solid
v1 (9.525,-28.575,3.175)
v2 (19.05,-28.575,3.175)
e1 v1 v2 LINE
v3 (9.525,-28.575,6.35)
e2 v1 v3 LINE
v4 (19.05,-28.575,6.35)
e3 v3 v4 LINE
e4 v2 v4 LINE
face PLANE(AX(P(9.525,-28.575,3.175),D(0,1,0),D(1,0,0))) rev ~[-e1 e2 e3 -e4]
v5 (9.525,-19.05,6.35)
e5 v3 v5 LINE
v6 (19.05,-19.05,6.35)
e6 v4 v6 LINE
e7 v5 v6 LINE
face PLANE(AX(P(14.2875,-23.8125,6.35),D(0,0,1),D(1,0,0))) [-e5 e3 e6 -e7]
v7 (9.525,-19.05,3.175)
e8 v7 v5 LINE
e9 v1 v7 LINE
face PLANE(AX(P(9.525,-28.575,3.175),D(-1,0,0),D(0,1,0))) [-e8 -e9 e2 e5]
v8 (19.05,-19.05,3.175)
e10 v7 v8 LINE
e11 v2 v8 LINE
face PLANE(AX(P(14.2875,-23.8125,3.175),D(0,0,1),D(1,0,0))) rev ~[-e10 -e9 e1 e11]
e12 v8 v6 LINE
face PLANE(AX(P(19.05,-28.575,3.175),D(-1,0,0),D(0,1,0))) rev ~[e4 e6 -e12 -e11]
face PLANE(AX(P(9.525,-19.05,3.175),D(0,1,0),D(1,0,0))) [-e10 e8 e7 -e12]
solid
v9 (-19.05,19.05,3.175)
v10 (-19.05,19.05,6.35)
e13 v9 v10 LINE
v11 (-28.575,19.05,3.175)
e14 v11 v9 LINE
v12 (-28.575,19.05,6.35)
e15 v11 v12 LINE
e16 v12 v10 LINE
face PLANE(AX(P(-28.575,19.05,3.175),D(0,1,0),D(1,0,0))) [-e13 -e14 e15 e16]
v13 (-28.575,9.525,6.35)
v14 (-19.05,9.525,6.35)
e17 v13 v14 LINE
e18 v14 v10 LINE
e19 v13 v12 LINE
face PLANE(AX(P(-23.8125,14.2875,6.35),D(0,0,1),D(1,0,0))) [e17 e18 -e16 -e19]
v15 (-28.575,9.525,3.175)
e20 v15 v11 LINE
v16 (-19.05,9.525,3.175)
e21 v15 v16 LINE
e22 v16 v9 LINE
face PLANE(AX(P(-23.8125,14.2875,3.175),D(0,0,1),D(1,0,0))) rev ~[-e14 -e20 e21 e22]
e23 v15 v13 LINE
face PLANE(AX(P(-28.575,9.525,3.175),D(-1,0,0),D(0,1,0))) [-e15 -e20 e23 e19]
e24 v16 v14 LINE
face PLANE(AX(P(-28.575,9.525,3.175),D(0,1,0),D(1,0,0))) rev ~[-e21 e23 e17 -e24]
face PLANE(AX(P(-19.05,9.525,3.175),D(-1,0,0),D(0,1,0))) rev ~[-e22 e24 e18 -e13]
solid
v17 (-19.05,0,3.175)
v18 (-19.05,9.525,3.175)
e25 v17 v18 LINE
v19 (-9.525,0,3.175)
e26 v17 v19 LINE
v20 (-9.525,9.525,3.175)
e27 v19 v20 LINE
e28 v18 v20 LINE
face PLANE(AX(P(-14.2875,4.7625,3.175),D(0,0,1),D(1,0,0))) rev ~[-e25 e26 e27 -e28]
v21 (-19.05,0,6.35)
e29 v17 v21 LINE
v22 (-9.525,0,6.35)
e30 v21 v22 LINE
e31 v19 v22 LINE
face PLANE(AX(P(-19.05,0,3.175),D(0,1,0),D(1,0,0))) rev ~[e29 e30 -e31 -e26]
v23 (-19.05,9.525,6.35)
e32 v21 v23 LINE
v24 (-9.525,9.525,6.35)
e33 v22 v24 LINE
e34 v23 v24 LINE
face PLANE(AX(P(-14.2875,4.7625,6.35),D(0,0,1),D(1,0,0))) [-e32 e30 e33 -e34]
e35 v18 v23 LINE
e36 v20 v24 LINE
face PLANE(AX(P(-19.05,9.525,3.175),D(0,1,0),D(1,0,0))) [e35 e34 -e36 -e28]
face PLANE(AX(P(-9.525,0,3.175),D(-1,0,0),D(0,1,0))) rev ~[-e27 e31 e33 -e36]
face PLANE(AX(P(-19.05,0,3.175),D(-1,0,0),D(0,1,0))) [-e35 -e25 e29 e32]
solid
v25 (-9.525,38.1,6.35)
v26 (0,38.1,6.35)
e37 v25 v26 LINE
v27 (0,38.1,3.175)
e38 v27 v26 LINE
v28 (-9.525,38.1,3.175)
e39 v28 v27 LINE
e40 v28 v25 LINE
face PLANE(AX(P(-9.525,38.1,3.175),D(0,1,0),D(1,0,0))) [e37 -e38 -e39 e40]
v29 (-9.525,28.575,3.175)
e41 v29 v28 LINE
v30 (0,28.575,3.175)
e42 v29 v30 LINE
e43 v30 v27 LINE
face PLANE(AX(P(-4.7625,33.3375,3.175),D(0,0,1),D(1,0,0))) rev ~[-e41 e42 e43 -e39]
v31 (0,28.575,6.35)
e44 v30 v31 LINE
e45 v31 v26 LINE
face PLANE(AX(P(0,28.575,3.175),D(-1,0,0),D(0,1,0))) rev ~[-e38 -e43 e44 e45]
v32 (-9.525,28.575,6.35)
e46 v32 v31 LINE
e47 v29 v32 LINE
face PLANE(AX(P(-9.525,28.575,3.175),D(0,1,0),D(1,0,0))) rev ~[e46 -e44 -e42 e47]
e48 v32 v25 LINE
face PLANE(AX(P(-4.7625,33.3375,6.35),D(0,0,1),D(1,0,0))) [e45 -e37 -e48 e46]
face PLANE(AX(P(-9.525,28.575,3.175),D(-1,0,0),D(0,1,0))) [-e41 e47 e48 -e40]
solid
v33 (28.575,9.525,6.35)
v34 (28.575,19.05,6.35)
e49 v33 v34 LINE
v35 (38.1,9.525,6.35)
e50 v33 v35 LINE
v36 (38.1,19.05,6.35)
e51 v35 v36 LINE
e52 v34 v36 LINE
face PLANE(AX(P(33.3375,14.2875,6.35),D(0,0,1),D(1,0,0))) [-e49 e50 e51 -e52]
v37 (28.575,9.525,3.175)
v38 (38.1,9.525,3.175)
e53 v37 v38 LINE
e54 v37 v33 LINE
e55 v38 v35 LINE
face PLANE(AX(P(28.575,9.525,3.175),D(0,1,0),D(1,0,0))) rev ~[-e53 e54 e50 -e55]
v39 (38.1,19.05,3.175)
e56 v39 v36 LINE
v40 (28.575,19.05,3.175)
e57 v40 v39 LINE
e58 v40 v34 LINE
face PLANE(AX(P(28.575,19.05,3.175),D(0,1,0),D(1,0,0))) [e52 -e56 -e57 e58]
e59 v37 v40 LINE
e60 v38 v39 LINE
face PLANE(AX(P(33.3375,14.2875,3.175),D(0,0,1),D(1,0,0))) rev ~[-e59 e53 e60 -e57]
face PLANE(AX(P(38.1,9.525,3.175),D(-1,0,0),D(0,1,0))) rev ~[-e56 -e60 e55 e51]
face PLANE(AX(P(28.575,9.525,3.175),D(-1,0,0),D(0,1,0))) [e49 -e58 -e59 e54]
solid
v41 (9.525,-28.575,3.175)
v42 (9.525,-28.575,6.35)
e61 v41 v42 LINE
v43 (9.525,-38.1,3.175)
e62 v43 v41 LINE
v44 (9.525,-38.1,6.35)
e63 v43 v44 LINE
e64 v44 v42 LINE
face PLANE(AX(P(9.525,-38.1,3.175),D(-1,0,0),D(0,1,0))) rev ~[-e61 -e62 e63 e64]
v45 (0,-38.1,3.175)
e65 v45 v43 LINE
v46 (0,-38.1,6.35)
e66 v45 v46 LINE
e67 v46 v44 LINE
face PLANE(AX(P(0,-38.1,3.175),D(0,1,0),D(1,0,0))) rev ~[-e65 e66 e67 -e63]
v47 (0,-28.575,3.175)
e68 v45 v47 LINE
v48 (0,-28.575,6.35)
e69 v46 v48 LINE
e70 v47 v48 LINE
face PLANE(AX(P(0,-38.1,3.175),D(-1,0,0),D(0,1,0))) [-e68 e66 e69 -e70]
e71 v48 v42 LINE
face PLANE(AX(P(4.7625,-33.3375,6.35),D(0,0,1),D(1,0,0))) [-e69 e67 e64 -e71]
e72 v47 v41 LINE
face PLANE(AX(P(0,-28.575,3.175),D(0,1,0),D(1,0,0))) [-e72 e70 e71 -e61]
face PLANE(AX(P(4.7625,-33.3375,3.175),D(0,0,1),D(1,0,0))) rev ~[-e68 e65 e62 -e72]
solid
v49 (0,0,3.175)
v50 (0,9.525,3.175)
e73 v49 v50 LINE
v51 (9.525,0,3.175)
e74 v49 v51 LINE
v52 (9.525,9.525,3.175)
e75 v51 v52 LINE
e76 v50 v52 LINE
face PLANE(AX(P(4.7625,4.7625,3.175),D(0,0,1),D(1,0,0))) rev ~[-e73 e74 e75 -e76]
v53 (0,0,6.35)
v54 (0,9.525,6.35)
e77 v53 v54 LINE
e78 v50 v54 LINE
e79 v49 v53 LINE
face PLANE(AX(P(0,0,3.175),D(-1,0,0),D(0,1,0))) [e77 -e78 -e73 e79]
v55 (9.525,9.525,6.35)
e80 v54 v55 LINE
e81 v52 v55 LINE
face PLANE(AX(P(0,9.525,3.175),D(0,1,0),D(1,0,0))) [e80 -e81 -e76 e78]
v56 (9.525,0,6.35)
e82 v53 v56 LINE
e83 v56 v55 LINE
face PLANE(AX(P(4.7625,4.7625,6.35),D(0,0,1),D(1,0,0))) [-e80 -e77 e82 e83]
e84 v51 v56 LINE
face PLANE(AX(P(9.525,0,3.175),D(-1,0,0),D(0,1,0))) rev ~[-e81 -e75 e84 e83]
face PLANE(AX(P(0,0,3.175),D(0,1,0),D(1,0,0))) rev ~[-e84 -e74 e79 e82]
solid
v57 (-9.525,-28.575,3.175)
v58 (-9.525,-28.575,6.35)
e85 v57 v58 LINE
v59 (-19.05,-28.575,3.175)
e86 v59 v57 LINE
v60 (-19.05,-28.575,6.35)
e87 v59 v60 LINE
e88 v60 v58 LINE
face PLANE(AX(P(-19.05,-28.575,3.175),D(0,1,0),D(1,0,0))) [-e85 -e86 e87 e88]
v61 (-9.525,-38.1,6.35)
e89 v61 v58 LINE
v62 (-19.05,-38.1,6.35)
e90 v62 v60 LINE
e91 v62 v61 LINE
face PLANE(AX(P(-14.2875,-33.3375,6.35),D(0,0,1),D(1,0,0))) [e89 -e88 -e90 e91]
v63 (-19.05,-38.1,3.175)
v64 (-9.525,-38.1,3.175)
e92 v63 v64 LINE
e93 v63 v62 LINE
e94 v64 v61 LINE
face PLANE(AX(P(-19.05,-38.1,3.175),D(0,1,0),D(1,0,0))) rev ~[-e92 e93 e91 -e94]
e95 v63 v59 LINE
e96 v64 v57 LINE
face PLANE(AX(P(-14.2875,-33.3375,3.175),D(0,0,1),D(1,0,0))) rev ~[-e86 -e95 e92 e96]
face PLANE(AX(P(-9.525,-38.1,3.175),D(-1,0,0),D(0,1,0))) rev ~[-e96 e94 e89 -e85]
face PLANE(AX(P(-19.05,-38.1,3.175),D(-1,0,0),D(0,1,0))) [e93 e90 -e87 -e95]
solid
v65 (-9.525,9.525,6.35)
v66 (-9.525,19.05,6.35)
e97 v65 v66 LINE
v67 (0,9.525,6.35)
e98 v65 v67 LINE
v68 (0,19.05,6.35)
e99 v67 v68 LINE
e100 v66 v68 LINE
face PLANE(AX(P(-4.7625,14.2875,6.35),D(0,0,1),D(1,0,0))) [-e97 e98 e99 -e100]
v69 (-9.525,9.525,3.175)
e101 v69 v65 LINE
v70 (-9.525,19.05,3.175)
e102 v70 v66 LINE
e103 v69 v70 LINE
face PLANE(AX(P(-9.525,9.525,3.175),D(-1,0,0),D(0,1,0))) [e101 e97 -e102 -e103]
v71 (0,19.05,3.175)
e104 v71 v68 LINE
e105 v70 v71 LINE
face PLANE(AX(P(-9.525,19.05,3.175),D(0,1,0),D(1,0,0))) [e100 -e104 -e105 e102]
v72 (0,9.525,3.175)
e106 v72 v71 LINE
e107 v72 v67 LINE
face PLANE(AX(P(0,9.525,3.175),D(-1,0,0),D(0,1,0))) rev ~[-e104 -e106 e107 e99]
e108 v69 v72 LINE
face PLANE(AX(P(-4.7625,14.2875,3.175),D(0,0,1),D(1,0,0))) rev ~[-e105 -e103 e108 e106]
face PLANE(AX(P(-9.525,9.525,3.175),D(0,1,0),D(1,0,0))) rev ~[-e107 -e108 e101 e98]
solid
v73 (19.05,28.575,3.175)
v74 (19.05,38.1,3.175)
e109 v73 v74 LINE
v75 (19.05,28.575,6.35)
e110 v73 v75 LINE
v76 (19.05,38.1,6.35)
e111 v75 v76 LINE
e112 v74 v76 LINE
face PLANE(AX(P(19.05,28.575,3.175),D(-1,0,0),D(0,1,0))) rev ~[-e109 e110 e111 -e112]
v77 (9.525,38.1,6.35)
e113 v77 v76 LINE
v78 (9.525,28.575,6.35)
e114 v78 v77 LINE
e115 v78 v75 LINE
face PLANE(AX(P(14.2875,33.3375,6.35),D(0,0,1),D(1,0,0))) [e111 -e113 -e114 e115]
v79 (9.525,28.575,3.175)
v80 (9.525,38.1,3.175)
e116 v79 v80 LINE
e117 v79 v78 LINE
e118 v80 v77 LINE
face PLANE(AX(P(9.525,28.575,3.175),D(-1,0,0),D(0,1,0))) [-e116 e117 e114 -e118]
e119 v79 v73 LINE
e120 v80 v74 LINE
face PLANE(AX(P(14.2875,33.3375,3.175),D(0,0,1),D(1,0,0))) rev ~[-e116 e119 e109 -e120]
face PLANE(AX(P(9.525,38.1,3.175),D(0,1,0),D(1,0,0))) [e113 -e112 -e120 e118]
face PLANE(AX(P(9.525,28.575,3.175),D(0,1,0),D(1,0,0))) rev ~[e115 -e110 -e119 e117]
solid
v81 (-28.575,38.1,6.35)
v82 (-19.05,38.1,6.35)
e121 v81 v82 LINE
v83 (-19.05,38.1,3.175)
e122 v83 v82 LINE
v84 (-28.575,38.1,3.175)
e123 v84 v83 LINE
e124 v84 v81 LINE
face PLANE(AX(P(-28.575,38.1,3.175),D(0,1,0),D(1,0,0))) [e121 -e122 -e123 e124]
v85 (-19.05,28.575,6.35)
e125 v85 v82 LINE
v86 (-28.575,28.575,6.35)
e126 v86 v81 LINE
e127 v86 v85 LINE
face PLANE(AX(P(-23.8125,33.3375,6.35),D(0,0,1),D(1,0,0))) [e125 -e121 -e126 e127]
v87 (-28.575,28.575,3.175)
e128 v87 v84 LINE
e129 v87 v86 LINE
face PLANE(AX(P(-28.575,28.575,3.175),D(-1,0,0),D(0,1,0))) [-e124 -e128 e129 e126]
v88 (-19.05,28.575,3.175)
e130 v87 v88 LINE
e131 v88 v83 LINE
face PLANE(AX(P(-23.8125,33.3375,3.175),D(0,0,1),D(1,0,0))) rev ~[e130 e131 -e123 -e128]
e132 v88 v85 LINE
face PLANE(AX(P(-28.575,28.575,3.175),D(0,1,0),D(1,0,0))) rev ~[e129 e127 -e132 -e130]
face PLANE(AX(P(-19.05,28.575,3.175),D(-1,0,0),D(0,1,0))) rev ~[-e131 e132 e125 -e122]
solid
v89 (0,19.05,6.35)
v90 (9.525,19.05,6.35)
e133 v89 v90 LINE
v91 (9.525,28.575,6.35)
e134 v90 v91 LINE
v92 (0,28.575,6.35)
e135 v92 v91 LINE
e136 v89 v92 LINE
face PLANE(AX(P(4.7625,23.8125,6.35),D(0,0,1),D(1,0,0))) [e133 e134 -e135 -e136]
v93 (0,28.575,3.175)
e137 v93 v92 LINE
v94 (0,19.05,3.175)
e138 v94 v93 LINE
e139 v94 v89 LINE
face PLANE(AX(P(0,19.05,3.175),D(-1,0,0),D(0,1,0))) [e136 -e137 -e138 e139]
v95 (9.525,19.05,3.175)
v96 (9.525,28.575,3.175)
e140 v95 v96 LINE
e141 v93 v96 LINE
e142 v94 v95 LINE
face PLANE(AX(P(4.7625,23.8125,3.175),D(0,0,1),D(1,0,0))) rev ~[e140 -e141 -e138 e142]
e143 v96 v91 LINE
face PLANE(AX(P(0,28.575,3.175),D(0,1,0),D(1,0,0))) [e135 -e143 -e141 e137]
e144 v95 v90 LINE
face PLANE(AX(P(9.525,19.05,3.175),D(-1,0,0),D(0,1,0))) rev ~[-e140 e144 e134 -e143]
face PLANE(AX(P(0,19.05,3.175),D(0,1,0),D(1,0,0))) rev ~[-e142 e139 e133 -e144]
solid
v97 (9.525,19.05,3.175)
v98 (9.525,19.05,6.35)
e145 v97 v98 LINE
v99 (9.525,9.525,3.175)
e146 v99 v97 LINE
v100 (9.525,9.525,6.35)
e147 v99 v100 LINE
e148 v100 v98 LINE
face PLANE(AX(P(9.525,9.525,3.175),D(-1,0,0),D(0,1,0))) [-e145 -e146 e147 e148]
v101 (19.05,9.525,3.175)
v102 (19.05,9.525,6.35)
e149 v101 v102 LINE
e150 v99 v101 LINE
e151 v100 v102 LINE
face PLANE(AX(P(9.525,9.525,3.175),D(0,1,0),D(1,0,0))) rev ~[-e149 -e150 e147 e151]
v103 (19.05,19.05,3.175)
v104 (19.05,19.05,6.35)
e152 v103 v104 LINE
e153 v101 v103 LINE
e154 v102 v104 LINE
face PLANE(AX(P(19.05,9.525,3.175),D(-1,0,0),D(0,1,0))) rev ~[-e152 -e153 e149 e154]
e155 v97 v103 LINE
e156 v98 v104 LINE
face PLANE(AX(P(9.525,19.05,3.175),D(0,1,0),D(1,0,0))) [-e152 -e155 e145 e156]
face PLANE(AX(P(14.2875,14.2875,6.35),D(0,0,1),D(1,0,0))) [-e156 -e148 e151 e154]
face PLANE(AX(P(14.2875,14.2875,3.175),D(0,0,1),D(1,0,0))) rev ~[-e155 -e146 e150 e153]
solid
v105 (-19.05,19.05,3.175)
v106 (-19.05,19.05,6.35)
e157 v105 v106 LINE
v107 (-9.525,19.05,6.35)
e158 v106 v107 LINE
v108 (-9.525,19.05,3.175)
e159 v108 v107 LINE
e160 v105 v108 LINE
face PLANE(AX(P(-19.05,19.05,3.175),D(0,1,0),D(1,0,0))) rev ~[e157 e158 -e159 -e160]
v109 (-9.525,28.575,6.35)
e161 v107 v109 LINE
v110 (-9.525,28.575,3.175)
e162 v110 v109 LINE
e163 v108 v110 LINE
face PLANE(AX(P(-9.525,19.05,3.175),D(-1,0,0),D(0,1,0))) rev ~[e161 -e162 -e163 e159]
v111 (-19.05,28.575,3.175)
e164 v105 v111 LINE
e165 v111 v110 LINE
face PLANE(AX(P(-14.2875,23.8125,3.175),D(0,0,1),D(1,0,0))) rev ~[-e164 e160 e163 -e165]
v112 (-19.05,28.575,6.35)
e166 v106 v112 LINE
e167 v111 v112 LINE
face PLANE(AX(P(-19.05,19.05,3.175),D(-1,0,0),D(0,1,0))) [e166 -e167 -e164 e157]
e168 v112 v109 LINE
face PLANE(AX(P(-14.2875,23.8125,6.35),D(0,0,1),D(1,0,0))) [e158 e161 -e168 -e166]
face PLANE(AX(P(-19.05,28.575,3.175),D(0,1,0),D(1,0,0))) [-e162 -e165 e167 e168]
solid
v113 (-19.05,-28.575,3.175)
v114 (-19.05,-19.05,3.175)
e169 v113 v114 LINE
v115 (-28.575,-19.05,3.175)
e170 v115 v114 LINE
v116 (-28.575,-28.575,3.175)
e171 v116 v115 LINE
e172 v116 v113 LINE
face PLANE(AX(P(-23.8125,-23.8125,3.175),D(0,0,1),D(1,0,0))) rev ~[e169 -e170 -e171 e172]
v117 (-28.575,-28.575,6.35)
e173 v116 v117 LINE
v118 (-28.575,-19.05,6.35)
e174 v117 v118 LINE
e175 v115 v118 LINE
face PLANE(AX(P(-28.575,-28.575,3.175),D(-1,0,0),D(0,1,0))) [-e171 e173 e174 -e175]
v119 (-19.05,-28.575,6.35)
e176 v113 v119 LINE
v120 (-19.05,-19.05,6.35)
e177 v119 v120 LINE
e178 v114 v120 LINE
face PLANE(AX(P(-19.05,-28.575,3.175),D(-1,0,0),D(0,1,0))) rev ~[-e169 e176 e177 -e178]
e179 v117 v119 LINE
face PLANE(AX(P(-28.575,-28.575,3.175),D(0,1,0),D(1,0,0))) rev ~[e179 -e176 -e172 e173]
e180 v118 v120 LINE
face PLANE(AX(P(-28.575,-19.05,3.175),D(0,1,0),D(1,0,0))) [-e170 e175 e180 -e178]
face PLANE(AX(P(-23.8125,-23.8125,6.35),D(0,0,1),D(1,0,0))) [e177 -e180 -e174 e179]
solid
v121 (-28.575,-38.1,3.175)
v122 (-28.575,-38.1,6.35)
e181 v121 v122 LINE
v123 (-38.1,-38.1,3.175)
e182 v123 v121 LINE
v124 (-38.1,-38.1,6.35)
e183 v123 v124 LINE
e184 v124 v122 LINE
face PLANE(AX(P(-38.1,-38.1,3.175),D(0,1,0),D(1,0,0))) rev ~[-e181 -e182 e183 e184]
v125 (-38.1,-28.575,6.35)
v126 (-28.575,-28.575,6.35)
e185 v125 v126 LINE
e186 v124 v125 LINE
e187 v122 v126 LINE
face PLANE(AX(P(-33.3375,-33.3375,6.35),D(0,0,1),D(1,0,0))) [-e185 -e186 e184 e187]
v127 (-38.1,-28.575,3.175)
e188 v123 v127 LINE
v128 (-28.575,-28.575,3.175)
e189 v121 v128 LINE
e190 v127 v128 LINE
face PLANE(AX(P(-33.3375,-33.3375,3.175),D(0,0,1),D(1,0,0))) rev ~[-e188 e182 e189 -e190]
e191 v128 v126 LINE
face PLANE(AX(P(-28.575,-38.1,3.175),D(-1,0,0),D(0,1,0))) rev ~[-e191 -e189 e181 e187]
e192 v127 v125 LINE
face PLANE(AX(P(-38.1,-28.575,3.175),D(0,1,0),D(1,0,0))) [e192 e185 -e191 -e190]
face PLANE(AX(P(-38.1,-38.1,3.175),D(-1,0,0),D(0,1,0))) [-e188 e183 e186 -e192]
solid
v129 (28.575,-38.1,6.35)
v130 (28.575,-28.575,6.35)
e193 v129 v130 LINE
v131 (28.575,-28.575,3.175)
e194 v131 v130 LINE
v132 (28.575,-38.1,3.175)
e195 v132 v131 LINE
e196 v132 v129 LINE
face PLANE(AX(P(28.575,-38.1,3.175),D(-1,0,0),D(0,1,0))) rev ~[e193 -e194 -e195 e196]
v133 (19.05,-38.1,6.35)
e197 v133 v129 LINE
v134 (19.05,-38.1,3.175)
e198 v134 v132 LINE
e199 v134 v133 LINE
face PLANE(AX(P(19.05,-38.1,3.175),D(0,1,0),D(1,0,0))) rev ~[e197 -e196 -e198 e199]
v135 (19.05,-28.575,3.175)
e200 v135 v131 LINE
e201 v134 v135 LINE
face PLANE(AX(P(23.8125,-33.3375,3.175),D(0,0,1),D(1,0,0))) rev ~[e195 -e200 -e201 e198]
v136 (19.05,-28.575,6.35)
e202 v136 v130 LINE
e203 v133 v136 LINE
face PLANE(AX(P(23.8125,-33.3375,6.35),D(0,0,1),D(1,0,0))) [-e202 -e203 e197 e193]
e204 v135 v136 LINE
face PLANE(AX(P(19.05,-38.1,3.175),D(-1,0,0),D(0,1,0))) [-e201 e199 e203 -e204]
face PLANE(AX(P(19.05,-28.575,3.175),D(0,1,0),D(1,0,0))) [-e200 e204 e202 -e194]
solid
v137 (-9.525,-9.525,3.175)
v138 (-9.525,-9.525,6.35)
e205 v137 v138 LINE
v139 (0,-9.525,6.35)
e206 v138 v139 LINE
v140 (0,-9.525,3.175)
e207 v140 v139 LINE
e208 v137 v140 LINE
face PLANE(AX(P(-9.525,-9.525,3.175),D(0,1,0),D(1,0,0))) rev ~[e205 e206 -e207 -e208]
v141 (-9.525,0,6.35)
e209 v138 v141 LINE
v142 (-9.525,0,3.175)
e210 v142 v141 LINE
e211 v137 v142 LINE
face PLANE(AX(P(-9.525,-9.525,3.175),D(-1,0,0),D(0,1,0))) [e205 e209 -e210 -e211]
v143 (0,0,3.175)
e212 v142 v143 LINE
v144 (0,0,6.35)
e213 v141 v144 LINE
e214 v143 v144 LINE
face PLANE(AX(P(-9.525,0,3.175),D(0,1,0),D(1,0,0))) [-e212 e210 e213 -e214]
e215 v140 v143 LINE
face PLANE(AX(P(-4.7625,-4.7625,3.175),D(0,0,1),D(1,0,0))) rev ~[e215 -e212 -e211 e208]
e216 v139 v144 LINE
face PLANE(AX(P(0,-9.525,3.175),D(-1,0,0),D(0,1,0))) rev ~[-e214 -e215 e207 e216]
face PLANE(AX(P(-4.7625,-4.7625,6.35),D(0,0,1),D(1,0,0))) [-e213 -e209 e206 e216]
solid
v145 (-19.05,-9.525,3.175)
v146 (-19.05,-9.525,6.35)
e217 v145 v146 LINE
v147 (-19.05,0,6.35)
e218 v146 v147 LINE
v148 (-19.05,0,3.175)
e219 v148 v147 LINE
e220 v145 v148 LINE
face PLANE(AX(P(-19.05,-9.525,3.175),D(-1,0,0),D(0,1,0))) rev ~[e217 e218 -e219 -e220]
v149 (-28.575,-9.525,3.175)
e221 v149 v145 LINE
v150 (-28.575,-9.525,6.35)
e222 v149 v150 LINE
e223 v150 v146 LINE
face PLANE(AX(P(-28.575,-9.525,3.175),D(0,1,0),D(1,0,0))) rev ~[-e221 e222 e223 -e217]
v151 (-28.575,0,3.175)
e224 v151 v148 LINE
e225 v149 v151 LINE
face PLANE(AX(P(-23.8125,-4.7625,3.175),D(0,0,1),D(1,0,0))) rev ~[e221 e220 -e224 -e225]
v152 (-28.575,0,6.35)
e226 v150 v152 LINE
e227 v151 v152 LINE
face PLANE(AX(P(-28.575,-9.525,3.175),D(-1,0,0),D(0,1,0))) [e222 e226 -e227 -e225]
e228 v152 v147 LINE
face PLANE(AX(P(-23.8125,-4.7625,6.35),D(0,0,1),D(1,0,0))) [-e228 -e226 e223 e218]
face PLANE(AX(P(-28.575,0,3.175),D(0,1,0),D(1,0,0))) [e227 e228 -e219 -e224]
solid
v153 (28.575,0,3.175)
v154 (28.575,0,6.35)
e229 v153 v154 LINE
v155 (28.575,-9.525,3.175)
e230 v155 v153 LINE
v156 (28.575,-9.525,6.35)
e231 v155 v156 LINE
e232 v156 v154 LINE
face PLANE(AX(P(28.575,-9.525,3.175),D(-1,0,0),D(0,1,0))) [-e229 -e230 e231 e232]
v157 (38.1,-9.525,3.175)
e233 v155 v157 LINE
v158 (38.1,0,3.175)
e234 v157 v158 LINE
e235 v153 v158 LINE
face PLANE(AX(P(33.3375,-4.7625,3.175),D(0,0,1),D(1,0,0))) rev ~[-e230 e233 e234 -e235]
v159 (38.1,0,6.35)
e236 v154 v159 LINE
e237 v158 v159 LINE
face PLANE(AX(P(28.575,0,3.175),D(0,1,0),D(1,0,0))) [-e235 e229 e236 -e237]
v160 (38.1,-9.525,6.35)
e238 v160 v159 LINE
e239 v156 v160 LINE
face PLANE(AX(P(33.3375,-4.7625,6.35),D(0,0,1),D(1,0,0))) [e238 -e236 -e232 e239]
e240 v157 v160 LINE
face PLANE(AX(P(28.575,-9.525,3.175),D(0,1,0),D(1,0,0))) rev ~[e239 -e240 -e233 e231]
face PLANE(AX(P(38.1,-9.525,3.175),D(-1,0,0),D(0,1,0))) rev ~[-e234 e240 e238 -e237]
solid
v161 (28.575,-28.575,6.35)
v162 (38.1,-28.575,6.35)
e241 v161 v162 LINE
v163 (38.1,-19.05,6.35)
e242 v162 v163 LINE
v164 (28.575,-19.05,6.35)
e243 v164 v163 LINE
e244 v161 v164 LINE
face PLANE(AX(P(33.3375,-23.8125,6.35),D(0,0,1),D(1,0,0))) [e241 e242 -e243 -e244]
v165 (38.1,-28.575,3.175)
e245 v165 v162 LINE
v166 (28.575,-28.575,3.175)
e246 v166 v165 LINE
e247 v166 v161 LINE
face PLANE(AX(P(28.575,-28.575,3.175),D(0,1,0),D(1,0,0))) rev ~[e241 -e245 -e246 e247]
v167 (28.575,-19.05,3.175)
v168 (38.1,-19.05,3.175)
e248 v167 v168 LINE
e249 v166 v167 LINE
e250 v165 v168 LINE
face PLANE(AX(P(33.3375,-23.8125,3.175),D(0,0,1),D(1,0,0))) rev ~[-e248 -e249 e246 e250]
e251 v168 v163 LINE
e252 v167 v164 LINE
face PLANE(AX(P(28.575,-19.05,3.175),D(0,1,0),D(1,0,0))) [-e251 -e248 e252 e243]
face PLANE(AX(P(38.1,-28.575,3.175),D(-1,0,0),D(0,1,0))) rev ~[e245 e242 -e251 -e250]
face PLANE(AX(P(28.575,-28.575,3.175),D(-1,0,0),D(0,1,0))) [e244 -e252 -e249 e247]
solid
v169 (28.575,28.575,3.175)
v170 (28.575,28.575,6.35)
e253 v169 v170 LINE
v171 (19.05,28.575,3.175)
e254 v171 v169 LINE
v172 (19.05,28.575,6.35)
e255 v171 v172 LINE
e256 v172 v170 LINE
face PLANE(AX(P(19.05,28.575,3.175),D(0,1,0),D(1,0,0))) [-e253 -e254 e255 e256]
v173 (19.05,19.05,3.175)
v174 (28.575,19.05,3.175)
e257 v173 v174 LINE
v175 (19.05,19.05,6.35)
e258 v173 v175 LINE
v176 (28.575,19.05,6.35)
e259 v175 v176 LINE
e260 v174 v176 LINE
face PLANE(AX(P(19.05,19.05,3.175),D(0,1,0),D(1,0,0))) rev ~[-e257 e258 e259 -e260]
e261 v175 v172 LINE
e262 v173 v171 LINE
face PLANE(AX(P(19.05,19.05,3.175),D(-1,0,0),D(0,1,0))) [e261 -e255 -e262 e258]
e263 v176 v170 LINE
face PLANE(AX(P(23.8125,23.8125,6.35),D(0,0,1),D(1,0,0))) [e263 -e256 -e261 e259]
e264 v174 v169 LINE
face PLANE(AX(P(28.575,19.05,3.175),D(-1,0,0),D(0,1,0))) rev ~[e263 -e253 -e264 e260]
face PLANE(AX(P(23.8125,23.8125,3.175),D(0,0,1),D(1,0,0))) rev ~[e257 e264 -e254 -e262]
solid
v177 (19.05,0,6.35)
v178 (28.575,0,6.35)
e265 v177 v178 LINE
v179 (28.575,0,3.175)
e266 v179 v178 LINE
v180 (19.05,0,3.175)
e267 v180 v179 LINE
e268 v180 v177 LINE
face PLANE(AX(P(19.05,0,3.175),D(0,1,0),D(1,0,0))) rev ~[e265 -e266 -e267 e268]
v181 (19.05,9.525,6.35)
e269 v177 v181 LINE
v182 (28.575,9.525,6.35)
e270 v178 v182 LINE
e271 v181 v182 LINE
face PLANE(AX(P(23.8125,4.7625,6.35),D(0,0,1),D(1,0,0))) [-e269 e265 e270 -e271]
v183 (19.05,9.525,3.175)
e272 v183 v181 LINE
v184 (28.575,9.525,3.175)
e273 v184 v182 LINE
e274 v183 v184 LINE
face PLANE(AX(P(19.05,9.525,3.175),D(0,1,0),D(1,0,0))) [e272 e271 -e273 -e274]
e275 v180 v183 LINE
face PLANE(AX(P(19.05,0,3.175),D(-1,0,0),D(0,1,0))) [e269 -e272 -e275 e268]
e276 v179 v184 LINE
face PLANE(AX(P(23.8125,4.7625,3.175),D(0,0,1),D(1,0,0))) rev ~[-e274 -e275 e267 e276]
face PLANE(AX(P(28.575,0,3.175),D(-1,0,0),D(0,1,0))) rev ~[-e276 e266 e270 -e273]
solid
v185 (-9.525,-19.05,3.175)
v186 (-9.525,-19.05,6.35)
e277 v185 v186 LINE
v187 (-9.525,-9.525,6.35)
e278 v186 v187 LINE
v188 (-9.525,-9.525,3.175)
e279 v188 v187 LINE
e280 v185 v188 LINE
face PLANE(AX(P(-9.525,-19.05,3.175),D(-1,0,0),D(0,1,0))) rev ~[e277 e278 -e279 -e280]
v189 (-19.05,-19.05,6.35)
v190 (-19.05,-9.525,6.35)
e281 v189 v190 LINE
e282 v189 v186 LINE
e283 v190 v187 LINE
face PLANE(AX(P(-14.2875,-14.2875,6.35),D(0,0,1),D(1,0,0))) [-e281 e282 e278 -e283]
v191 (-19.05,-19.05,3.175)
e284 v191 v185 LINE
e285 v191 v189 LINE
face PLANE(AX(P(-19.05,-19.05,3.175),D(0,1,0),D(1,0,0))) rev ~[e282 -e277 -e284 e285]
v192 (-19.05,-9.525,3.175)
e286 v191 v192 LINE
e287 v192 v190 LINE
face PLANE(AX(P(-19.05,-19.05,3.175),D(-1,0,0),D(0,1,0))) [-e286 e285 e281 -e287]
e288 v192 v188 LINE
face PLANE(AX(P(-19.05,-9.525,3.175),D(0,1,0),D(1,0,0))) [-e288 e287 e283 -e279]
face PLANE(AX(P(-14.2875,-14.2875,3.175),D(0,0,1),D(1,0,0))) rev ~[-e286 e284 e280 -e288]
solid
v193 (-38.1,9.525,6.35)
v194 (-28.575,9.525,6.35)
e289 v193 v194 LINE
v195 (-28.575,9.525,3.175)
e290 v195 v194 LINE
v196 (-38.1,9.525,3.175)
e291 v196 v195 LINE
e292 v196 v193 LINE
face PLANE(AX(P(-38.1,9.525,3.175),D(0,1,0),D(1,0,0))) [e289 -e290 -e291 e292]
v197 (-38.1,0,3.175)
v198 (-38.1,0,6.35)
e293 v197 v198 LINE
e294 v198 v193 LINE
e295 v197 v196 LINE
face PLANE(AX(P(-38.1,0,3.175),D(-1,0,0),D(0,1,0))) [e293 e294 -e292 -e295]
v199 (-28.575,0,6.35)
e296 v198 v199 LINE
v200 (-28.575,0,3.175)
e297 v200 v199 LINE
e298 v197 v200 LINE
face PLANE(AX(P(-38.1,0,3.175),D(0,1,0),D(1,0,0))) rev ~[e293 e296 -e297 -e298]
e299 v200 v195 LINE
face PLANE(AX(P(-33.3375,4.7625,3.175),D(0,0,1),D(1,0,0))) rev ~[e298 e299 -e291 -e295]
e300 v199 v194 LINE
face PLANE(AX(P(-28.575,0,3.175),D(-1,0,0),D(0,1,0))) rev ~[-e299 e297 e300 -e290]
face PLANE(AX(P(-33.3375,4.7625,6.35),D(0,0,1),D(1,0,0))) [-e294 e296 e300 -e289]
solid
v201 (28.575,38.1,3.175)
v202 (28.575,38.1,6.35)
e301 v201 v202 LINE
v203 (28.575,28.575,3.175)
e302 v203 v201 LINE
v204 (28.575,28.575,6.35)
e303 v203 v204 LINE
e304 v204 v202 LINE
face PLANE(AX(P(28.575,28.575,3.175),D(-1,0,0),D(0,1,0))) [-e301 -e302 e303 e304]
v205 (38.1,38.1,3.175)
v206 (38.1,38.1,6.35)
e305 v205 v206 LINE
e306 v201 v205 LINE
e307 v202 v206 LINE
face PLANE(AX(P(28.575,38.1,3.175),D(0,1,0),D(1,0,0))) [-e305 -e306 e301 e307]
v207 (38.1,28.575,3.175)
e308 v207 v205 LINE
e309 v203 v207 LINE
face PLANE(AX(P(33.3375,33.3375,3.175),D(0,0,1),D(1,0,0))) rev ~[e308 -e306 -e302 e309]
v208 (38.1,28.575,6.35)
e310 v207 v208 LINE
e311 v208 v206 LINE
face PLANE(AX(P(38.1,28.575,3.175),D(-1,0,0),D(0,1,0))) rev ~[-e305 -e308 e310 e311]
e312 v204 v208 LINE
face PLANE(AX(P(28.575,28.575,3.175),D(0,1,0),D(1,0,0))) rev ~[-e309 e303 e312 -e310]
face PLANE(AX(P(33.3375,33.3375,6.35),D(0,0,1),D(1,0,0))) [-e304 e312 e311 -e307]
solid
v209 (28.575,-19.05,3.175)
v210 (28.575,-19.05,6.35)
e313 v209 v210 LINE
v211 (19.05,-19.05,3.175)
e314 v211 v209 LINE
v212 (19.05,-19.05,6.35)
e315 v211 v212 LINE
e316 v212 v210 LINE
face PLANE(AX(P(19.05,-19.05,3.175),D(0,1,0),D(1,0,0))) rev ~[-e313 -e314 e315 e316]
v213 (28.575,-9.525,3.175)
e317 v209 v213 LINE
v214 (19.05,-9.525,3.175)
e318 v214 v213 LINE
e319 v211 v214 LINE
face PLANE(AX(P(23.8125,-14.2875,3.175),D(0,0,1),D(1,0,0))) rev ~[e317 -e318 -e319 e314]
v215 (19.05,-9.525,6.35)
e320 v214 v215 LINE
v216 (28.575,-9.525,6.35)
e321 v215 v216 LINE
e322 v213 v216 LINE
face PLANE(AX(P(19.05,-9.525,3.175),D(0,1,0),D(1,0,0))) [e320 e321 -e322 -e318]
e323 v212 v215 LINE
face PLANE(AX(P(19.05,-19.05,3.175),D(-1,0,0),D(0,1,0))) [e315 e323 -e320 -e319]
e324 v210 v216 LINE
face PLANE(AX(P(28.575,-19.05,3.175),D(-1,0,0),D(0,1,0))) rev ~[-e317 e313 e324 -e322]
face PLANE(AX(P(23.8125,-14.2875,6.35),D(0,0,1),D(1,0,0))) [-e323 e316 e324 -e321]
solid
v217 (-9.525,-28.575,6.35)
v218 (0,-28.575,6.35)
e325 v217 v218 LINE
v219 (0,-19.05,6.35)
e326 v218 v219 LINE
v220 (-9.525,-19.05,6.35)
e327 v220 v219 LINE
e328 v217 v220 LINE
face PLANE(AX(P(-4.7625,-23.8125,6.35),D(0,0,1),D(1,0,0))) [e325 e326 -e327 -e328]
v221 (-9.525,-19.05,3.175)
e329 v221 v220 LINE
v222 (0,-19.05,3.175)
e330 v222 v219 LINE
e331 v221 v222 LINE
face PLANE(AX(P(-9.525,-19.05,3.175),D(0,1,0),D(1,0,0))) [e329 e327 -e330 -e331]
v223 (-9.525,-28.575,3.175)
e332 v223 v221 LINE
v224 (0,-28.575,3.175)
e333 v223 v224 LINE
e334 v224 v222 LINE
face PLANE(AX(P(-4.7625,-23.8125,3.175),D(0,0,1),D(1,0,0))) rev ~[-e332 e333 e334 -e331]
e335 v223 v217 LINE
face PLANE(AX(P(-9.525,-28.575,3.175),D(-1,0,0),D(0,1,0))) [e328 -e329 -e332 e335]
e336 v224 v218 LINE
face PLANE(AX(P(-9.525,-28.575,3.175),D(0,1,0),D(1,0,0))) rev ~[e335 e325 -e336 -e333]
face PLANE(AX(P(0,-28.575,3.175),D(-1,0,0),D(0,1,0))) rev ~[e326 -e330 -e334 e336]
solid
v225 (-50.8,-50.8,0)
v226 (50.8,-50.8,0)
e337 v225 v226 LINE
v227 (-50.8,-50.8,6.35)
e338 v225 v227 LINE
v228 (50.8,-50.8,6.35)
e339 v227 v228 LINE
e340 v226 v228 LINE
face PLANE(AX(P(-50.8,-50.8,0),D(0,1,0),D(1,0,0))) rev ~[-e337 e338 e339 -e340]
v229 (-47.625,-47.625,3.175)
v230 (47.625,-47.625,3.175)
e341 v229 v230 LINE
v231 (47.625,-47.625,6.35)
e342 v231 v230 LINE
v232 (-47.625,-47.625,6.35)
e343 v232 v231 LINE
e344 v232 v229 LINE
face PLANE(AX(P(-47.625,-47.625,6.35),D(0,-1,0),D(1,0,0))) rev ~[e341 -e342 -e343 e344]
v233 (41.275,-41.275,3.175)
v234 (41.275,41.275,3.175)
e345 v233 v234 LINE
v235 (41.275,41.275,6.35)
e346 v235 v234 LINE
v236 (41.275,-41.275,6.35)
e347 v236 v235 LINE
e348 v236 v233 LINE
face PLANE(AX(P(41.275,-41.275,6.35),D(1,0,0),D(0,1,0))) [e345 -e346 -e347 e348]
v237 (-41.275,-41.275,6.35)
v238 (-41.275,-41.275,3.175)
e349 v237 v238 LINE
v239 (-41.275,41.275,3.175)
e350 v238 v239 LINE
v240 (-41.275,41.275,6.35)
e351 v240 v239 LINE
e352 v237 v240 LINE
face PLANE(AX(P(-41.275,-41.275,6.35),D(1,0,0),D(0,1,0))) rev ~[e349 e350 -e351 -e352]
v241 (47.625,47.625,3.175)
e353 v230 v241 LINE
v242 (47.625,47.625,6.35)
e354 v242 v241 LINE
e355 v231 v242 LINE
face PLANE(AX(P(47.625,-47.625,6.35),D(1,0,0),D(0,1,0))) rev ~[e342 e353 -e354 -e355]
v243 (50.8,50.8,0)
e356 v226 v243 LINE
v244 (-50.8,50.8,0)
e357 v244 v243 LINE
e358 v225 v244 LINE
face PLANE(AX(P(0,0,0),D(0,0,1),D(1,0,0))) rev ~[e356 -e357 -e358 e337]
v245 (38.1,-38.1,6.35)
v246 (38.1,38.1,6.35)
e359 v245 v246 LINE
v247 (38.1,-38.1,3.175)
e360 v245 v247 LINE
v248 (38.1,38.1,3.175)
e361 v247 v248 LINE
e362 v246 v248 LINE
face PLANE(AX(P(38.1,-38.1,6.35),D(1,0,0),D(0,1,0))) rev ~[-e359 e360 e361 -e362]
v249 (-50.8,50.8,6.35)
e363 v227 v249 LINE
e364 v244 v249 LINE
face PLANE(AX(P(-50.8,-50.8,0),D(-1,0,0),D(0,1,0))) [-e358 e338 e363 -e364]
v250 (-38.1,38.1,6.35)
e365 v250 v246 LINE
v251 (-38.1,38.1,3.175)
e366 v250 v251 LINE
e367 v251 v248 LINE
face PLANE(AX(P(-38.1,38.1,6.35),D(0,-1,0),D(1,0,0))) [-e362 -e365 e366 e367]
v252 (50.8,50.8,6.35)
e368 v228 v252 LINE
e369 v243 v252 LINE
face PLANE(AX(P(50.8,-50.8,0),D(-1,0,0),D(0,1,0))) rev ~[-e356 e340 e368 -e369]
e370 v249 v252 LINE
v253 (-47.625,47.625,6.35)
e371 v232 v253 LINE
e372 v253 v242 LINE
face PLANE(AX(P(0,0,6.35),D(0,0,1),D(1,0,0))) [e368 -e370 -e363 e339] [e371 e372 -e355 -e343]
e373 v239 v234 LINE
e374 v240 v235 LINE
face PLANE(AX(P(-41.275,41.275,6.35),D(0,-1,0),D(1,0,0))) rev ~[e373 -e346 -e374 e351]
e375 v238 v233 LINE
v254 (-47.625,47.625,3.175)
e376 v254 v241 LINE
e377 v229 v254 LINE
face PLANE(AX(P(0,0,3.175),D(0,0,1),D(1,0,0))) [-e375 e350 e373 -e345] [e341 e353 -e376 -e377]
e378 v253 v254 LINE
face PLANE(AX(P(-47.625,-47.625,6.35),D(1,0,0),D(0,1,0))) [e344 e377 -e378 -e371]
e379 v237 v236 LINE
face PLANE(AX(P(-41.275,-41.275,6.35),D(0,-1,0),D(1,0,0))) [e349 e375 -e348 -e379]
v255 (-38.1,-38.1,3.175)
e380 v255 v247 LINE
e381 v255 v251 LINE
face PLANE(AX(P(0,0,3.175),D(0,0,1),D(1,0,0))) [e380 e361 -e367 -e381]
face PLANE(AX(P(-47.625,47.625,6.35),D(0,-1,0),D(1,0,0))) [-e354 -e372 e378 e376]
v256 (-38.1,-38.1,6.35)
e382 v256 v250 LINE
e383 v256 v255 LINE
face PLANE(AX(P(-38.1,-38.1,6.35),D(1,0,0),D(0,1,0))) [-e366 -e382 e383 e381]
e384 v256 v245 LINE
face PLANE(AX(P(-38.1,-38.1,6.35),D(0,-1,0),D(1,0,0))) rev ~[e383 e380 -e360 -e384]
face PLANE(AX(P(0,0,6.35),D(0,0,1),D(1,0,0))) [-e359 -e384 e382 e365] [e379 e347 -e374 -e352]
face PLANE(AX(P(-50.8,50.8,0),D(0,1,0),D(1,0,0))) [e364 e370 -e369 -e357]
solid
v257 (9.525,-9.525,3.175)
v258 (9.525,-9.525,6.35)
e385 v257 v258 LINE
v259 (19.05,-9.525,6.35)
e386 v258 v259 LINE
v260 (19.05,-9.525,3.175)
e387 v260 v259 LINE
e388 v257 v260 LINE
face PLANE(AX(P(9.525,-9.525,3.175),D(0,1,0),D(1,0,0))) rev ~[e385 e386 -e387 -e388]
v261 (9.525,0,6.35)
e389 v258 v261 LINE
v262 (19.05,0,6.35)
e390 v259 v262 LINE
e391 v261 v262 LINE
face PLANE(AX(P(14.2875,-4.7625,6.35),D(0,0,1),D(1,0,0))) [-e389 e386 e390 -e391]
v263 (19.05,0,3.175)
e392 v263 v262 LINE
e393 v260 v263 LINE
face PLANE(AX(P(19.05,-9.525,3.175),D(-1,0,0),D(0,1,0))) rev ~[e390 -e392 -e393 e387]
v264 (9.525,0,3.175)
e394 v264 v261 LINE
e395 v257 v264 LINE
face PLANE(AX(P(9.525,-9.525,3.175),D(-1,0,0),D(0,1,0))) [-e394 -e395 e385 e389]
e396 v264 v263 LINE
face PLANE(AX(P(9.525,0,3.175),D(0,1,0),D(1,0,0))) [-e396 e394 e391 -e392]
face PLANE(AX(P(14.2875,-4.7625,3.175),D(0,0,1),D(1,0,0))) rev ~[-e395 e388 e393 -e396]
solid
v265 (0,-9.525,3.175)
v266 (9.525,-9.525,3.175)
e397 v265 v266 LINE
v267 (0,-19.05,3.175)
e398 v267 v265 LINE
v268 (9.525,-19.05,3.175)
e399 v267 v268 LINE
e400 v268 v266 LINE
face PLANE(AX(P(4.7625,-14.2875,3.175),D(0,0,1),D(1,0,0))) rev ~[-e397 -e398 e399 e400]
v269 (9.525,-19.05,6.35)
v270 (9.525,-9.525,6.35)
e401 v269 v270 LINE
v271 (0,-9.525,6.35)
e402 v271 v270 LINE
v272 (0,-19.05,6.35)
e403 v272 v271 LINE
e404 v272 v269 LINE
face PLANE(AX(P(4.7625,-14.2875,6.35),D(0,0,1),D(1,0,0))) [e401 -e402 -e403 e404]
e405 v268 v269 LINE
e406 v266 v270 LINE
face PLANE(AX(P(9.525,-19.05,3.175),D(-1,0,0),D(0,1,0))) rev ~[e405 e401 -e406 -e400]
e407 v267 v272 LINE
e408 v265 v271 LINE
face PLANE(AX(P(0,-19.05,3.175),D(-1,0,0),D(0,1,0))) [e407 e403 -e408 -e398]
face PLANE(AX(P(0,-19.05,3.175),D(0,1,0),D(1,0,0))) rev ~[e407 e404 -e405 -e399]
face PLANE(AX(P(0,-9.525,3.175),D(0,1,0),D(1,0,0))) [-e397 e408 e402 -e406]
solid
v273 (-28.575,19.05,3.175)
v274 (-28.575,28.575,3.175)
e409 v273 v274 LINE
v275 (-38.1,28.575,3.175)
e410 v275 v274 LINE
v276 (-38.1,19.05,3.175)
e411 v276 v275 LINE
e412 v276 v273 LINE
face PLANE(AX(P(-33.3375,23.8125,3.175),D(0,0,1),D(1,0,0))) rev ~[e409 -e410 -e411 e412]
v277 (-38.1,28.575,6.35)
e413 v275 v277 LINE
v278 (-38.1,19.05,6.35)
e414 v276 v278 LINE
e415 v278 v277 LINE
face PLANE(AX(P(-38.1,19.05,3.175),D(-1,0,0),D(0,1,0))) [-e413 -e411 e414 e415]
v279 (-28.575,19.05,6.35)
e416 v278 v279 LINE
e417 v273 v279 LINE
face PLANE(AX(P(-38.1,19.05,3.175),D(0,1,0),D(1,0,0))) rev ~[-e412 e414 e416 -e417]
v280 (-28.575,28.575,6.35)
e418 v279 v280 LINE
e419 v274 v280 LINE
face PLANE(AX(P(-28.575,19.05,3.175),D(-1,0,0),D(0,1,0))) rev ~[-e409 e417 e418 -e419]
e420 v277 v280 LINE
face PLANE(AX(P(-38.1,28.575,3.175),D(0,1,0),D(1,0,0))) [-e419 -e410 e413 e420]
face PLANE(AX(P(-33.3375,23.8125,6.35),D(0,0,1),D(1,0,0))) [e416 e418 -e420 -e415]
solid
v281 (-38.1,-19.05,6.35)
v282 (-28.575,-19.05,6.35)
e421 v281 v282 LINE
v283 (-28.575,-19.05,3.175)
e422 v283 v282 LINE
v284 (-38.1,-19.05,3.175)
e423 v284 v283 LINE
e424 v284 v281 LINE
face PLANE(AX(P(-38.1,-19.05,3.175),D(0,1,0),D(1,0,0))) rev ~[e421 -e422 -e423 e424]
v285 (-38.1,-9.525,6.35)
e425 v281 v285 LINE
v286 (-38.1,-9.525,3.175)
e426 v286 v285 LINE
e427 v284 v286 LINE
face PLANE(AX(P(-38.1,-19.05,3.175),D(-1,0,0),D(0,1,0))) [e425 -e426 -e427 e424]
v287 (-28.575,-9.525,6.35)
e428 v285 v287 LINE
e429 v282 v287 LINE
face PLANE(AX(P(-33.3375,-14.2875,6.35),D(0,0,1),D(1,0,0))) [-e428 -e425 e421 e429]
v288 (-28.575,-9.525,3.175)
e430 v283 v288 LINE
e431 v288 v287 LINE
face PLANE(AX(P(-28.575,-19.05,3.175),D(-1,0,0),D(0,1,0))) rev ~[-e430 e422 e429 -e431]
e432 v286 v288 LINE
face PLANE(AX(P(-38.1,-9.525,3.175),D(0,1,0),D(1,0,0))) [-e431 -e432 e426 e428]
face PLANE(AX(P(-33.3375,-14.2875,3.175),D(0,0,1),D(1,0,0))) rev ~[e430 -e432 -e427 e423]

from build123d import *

# Parameters (mm, degrees)
F0_W     = 101.6
F0_H     = 101.6
F1_DEPTH = 6.35
F2_W     = 95.25
F2_H     = 95.25
F2_W_2   = 82.55
F2_H_2   = 82.55
F3_DEPTH = 3.175
F2_W_3   = 76.2
F2_H_3   = 76.2
F4_DEPTH = 3.175
F5_W     = 9.525
F5_H     = 9.525
F6_DEPTH = 3.175


with BuildPart() as f1:
    # F0 (on Top) → F1 (new body)
    with BuildSketch(Plane.XY):
        Rectangle(F0_W, F0_H)
    extrude(amount=F1_DEPTH)

    # F2 (on face) → F3 (cut)
    with BuildSketch(Plane.XY.offset(6.35)):
        Rectangle(F2_W, F2_H)
        Rectangle(F2_W_2, F2_H_2, mode=Mode.SUBTRACT)
    extrude(amount=-F3_DEPTH, mode=Mode.SUBTRACT)

    # F2 (on face) → F4 (cut)
    with BuildSketch(Plane.XY.offset(6.35)):
        Rectangle(F2_W_3, F2_H_3)
    extrude(amount=-F4_DEPTH, mode=Mode.SUBTRACT)


with BuildPart() as f6:
    # F5 (on face) → F6 (new body)
    with BuildSketch(Plane.XY.offset(3.175)):
        with Locations((23.8125, -33.3375)):
            Rectangle(F5_W, F5_H)
    extrude(amount=F6_DEPTH)


with BuildPart() as f6b:
    # F5 (on face) → F6, piece 2 (new body)
    with BuildSketch(Plane.XY.offset(3.175)):
        with Locations((4.7625, -33.3375)):
            Rectangle(F5_W, F5_H)
    extrude(amount=F6_DEPTH)


with BuildPart() as f6c:
    # F5 (on face) → F6, piece 3 (new body)
    with BuildSketch(Plane.XY.offset(3.175)):
        with Locations((-14.2875, -33.3375)):
            Rectangle(F5_W, F5_H)
    extrude(amount=F6_DEPTH)


with BuildPart() as f6d:
    # F5 (on face) → F6, piece 4 (new body)
    with BuildSketch(Plane.XY.offset(3.175)):
        with Locations((-33.3375, -33.3375)):
            Rectangle(F5_W, F5_H)
    extrude(amount=F6_DEPTH)


with BuildPart() as f6e:
    # F5 (on face) → F6, piece 5 (new body)
    with BuildSketch(Plane.XY.offset(3.175)):
        with Locations((-23.8125, -23.8125)):
            Rectangle(F5_W, F5_H)
    extrude(amount=F6_DEPTH)


with BuildPart() as f6f:
    # F5 (on face) → F6, piece 6 (new body)
    with BuildSketch(Plane.XY.offset(3.175)):
        with Locations((-33.3375, -14.2875)):
            Rectangle(F5_W, F5_H)
    extrude(amount=F6_DEPTH)


with BuildPart() as f6g:
    # F5 (on face) → F6, piece 7 (new body)
    with BuildSketch(Plane.XY.offset(3.175)):
        with Locations((-14.2875, -14.2875)):
            Rectangle(F5_W, F5_H)
    extrude(amount=F6_DEPTH)


with BuildPart() as f6h:
    # F5 (on face) → F6, piece 8 (new body)
    with BuildSketch(Plane.XY.offset(3.175)):
        with Locations((-23.8125, -4.7625)):
            Rectangle(F5_W, F5_H)
    extrude(amount=F6_DEPTH)


with BuildPart() as f6i:
    # F5 (on face) → F6, piece 9 (new body)
    with BuildSketch(Plane.XY.offset(3.175)):
        with Locations((-33.3375, 4.7625)):
            Rectangle(F5_W, F5_H)
    extrude(amount=F6_DEPTH)


with BuildPart() as f6j:
    # F5 (on face) → F6, piece 10 (new body)
    with BuildSketch(Plane.XY.offset(3.175)):
        with Locations((-14.2875, 4.7625)):
            Rectangle(F5_W, F5_H)
    extrude(amount=F6_DEPTH)


with BuildPart() as f6k:
    # F5 (on face) → F6, piece 11 (new body)
    with BuildSketch(Plane.XY.offset(3.175)):
        with Locations((-23.8125, 14.2875)):
            Rectangle(F5_W, F5_H)
    extrude(amount=F6_DEPTH)


with BuildPart() as f6l:
    # F5 (on face) → F6, piece 12 (new body)
    with BuildSketch(Plane.XY.offset(3.175)):
        with Locations((-33.3375, 23.8125)):
            Rectangle(F5_W, F5_H)
    extrude(amount=F6_DEPTH)


with BuildPart() as f6m:
    # F5 (on face) → F6, piece 13 (new body)
    with BuildSketch(Plane.XY.offset(3.175)):
        with Locations((-14.2875, 23.8125)):
            Rectangle(F5_W, F5_H)
    extrude(amount=F6_DEPTH)


with BuildPart() as f6n:
    # F5 (on face) → F6, piece 14 (new body)
    with BuildSketch(Plane.XY.offset(3.175)):
        with Locations((-23.8125, 33.3375)):
            Rectangle(F5_W, F5_H)
    extrude(amount=F6_DEPTH)


with BuildPart() as f6o:
    # F5 (on face) → F6, piece 15 (new body)
    with BuildSketch(Plane.XY.offset(3.175)):
        with Locations((-4.7625, 33.3375)):
            Rectangle(F5_W, F5_H)
    extrude(amount=F6_DEPTH)


with BuildPart() as f6p:
    # F5 (on face) → F6, piece 16 (new body)
    with BuildSketch(Plane.XY.offset(3.175)):
        with Locations((4.7625, 23.8125)):
            Rectangle(F5_W, F5_H)
    extrude(amount=F6_DEPTH)


with BuildPart() as f6q:
    # F5 (on face) → F6, piece 17 (new body)
    with BuildSketch(Plane.XY.offset(3.175)):
        with Locations((-4.7625, 14.2875)):
            Rectangle(F5_W, F5_H)
    extrude(amount=F6_DEPTH)


with BuildPart() as f6r:
    # F5 (on face) → F6, piece 18 (new body)
    with BuildSketch(Plane.XY.offset(3.175)):
        with Locations((4.7625, 4.7625)):
            Rectangle(F5_W, F5_H)
    extrude(amount=F6_DEPTH)


with BuildPart() as f6s:
    # F5 (on face) → F6, piece 19 (new body)
    with BuildSketch(Plane.XY.offset(3.175)):
        with Locations((-4.7625, -4.7625)):
            Rectangle(F5_W, F5_H)
    extrude(amount=F6_DEPTH)


with BuildPart() as f6t:
    # F5 (on face) → F6, piece 20 (new body)
    with BuildSketch(Plane.XY.offset(3.175)):
        with Locations((4.7625, -14.2875)):
            Rectangle(F5_W, F5_H)
    extrude(amount=F6_DEPTH)


with BuildPart() as f6u:
    # F5 (on face) → F6, piece 21 (new body)
    with BuildSketch(Plane.XY.offset(3.175)):
        with Locations((-4.7625, -23.8125)):
            Rectangle(F5_W, F5_H)
    extrude(amount=F6_DEPTH)


with BuildPart() as f6v:
    # F5 (on face) → F6, piece 22 (new body)
    with BuildSketch(Plane.XY.offset(3.175)):
        with Locations((14.2875, -23.8125)):
            Rectangle(F5_W, F5_H)
    extrude(amount=F6_DEPTH)


with BuildPart() as f6w:
    # F5 (on face) → F6, piece 23 (new body)
    with BuildSketch(Plane.XY.offset(3.175)):
        with Locations((23.8125, -14.2875)):
            Rectangle(F5_W, F5_H)
    extrude(amount=F6_DEPTH)


with BuildPart() as f6x:
    # F5 (on face) → F6, piece 24 (new body)
    with BuildSketch(Plane.XY.offset(3.175)):
        with Locations((14.2875, -4.7625)):
            Rectangle(F5_W, F5_H)
    extrude(amount=F6_DEPTH)


with BuildPart() as f6y:
    # F5 (on face) → F6, piece 25 (new body)
    with BuildSketch(Plane.XY.offset(3.175)):
        with Locations((23.8125, 4.7625)):
            Rectangle(F5_W, F5_H)
    extrude(amount=F6_DEPTH)


with BuildPart() as f6z:
    # F5 (on face) → F6, piece 26 (new body)
    with BuildSketch(Plane.XY.offset(3.175)):
        with Locations((14.2875, 14.2875)):
            Rectangle(F5_W, F5_H)
    extrude(amount=F6_DEPTH)


with BuildPart() as f6ba:
    # F5 (on face) → F6, piece 27 (new body)
    with BuildSketch(Plane.XY.offset(3.175)):
        with Locations((23.8125, 23.8125)):
            Rectangle(F5_W, F5_H)
    extrude(amount=F6_DEPTH)


with BuildPart() as f6bb:
    # F5 (on face) → F6, piece 28 (new body)
    with BuildSketch(Plane.XY.offset(3.175)):
        with Locations((14.2875, 33.3375)):
            Rectangle(F5_W, F5_H)
    extrude(amount=F6_DEPTH)


with BuildPart() as f6bc:
    # F5 (on face) → F6, piece 29 (new body)
    with BuildSketch(Plane.XY.offset(3.175)):
        with Locations((33.3375, 33.3375)):
            Rectangle(F5_W, F5_H)
    extrude(amount=F6_DEPTH)


with BuildPart() as f6bd:
    # F5 (on face) → F6, piece 30 (new body)
    with BuildSketch(Plane.XY.offset(3.175)):
        with Locations((33.3375, 14.2875)):
            Rectangle(F5_W, F5_H)
    extrude(amount=F6_DEPTH)


with BuildPart() as f6be:
    # F5 (on face) → F6, piece 31 (new body)
    with BuildSketch(Plane.XY.offset(3.175)):
        with Locations((33.3375, -4.7625)):
            Rectangle(F5_W, F5_H)
    extrude(amount=F6_DEPTH)


with BuildPart() as f6bf:
    # F5 (on face) → F6, piece 32 (new body)
    with BuildSketch(Plane.XY.offset(3.175)):
        with Locations((33.3375, -23.8125)):
            Rectangle(F5_W, F5_H)
    extrude(amount=F6_DEPTH)


solid = Compound([f1.part, f6.part, f6b.part, f6c.part, f6d.part, f6e.part, f6f.part, f6g.part, f6h.part, f6i.part, f6j.part, f6k.part, f6l.part, f6m.part, f6n.part, f6o.part, f6p.part, f6q.part, f6r.part, f6s.part, f6t.part, f6u.part, f6v.part, f6w.part, f6x.part, f6y.part, f6z.part, f6ba.part, f6bb.part, f6bc.part, f6bd.part, f6be.part, f6bf.part])
